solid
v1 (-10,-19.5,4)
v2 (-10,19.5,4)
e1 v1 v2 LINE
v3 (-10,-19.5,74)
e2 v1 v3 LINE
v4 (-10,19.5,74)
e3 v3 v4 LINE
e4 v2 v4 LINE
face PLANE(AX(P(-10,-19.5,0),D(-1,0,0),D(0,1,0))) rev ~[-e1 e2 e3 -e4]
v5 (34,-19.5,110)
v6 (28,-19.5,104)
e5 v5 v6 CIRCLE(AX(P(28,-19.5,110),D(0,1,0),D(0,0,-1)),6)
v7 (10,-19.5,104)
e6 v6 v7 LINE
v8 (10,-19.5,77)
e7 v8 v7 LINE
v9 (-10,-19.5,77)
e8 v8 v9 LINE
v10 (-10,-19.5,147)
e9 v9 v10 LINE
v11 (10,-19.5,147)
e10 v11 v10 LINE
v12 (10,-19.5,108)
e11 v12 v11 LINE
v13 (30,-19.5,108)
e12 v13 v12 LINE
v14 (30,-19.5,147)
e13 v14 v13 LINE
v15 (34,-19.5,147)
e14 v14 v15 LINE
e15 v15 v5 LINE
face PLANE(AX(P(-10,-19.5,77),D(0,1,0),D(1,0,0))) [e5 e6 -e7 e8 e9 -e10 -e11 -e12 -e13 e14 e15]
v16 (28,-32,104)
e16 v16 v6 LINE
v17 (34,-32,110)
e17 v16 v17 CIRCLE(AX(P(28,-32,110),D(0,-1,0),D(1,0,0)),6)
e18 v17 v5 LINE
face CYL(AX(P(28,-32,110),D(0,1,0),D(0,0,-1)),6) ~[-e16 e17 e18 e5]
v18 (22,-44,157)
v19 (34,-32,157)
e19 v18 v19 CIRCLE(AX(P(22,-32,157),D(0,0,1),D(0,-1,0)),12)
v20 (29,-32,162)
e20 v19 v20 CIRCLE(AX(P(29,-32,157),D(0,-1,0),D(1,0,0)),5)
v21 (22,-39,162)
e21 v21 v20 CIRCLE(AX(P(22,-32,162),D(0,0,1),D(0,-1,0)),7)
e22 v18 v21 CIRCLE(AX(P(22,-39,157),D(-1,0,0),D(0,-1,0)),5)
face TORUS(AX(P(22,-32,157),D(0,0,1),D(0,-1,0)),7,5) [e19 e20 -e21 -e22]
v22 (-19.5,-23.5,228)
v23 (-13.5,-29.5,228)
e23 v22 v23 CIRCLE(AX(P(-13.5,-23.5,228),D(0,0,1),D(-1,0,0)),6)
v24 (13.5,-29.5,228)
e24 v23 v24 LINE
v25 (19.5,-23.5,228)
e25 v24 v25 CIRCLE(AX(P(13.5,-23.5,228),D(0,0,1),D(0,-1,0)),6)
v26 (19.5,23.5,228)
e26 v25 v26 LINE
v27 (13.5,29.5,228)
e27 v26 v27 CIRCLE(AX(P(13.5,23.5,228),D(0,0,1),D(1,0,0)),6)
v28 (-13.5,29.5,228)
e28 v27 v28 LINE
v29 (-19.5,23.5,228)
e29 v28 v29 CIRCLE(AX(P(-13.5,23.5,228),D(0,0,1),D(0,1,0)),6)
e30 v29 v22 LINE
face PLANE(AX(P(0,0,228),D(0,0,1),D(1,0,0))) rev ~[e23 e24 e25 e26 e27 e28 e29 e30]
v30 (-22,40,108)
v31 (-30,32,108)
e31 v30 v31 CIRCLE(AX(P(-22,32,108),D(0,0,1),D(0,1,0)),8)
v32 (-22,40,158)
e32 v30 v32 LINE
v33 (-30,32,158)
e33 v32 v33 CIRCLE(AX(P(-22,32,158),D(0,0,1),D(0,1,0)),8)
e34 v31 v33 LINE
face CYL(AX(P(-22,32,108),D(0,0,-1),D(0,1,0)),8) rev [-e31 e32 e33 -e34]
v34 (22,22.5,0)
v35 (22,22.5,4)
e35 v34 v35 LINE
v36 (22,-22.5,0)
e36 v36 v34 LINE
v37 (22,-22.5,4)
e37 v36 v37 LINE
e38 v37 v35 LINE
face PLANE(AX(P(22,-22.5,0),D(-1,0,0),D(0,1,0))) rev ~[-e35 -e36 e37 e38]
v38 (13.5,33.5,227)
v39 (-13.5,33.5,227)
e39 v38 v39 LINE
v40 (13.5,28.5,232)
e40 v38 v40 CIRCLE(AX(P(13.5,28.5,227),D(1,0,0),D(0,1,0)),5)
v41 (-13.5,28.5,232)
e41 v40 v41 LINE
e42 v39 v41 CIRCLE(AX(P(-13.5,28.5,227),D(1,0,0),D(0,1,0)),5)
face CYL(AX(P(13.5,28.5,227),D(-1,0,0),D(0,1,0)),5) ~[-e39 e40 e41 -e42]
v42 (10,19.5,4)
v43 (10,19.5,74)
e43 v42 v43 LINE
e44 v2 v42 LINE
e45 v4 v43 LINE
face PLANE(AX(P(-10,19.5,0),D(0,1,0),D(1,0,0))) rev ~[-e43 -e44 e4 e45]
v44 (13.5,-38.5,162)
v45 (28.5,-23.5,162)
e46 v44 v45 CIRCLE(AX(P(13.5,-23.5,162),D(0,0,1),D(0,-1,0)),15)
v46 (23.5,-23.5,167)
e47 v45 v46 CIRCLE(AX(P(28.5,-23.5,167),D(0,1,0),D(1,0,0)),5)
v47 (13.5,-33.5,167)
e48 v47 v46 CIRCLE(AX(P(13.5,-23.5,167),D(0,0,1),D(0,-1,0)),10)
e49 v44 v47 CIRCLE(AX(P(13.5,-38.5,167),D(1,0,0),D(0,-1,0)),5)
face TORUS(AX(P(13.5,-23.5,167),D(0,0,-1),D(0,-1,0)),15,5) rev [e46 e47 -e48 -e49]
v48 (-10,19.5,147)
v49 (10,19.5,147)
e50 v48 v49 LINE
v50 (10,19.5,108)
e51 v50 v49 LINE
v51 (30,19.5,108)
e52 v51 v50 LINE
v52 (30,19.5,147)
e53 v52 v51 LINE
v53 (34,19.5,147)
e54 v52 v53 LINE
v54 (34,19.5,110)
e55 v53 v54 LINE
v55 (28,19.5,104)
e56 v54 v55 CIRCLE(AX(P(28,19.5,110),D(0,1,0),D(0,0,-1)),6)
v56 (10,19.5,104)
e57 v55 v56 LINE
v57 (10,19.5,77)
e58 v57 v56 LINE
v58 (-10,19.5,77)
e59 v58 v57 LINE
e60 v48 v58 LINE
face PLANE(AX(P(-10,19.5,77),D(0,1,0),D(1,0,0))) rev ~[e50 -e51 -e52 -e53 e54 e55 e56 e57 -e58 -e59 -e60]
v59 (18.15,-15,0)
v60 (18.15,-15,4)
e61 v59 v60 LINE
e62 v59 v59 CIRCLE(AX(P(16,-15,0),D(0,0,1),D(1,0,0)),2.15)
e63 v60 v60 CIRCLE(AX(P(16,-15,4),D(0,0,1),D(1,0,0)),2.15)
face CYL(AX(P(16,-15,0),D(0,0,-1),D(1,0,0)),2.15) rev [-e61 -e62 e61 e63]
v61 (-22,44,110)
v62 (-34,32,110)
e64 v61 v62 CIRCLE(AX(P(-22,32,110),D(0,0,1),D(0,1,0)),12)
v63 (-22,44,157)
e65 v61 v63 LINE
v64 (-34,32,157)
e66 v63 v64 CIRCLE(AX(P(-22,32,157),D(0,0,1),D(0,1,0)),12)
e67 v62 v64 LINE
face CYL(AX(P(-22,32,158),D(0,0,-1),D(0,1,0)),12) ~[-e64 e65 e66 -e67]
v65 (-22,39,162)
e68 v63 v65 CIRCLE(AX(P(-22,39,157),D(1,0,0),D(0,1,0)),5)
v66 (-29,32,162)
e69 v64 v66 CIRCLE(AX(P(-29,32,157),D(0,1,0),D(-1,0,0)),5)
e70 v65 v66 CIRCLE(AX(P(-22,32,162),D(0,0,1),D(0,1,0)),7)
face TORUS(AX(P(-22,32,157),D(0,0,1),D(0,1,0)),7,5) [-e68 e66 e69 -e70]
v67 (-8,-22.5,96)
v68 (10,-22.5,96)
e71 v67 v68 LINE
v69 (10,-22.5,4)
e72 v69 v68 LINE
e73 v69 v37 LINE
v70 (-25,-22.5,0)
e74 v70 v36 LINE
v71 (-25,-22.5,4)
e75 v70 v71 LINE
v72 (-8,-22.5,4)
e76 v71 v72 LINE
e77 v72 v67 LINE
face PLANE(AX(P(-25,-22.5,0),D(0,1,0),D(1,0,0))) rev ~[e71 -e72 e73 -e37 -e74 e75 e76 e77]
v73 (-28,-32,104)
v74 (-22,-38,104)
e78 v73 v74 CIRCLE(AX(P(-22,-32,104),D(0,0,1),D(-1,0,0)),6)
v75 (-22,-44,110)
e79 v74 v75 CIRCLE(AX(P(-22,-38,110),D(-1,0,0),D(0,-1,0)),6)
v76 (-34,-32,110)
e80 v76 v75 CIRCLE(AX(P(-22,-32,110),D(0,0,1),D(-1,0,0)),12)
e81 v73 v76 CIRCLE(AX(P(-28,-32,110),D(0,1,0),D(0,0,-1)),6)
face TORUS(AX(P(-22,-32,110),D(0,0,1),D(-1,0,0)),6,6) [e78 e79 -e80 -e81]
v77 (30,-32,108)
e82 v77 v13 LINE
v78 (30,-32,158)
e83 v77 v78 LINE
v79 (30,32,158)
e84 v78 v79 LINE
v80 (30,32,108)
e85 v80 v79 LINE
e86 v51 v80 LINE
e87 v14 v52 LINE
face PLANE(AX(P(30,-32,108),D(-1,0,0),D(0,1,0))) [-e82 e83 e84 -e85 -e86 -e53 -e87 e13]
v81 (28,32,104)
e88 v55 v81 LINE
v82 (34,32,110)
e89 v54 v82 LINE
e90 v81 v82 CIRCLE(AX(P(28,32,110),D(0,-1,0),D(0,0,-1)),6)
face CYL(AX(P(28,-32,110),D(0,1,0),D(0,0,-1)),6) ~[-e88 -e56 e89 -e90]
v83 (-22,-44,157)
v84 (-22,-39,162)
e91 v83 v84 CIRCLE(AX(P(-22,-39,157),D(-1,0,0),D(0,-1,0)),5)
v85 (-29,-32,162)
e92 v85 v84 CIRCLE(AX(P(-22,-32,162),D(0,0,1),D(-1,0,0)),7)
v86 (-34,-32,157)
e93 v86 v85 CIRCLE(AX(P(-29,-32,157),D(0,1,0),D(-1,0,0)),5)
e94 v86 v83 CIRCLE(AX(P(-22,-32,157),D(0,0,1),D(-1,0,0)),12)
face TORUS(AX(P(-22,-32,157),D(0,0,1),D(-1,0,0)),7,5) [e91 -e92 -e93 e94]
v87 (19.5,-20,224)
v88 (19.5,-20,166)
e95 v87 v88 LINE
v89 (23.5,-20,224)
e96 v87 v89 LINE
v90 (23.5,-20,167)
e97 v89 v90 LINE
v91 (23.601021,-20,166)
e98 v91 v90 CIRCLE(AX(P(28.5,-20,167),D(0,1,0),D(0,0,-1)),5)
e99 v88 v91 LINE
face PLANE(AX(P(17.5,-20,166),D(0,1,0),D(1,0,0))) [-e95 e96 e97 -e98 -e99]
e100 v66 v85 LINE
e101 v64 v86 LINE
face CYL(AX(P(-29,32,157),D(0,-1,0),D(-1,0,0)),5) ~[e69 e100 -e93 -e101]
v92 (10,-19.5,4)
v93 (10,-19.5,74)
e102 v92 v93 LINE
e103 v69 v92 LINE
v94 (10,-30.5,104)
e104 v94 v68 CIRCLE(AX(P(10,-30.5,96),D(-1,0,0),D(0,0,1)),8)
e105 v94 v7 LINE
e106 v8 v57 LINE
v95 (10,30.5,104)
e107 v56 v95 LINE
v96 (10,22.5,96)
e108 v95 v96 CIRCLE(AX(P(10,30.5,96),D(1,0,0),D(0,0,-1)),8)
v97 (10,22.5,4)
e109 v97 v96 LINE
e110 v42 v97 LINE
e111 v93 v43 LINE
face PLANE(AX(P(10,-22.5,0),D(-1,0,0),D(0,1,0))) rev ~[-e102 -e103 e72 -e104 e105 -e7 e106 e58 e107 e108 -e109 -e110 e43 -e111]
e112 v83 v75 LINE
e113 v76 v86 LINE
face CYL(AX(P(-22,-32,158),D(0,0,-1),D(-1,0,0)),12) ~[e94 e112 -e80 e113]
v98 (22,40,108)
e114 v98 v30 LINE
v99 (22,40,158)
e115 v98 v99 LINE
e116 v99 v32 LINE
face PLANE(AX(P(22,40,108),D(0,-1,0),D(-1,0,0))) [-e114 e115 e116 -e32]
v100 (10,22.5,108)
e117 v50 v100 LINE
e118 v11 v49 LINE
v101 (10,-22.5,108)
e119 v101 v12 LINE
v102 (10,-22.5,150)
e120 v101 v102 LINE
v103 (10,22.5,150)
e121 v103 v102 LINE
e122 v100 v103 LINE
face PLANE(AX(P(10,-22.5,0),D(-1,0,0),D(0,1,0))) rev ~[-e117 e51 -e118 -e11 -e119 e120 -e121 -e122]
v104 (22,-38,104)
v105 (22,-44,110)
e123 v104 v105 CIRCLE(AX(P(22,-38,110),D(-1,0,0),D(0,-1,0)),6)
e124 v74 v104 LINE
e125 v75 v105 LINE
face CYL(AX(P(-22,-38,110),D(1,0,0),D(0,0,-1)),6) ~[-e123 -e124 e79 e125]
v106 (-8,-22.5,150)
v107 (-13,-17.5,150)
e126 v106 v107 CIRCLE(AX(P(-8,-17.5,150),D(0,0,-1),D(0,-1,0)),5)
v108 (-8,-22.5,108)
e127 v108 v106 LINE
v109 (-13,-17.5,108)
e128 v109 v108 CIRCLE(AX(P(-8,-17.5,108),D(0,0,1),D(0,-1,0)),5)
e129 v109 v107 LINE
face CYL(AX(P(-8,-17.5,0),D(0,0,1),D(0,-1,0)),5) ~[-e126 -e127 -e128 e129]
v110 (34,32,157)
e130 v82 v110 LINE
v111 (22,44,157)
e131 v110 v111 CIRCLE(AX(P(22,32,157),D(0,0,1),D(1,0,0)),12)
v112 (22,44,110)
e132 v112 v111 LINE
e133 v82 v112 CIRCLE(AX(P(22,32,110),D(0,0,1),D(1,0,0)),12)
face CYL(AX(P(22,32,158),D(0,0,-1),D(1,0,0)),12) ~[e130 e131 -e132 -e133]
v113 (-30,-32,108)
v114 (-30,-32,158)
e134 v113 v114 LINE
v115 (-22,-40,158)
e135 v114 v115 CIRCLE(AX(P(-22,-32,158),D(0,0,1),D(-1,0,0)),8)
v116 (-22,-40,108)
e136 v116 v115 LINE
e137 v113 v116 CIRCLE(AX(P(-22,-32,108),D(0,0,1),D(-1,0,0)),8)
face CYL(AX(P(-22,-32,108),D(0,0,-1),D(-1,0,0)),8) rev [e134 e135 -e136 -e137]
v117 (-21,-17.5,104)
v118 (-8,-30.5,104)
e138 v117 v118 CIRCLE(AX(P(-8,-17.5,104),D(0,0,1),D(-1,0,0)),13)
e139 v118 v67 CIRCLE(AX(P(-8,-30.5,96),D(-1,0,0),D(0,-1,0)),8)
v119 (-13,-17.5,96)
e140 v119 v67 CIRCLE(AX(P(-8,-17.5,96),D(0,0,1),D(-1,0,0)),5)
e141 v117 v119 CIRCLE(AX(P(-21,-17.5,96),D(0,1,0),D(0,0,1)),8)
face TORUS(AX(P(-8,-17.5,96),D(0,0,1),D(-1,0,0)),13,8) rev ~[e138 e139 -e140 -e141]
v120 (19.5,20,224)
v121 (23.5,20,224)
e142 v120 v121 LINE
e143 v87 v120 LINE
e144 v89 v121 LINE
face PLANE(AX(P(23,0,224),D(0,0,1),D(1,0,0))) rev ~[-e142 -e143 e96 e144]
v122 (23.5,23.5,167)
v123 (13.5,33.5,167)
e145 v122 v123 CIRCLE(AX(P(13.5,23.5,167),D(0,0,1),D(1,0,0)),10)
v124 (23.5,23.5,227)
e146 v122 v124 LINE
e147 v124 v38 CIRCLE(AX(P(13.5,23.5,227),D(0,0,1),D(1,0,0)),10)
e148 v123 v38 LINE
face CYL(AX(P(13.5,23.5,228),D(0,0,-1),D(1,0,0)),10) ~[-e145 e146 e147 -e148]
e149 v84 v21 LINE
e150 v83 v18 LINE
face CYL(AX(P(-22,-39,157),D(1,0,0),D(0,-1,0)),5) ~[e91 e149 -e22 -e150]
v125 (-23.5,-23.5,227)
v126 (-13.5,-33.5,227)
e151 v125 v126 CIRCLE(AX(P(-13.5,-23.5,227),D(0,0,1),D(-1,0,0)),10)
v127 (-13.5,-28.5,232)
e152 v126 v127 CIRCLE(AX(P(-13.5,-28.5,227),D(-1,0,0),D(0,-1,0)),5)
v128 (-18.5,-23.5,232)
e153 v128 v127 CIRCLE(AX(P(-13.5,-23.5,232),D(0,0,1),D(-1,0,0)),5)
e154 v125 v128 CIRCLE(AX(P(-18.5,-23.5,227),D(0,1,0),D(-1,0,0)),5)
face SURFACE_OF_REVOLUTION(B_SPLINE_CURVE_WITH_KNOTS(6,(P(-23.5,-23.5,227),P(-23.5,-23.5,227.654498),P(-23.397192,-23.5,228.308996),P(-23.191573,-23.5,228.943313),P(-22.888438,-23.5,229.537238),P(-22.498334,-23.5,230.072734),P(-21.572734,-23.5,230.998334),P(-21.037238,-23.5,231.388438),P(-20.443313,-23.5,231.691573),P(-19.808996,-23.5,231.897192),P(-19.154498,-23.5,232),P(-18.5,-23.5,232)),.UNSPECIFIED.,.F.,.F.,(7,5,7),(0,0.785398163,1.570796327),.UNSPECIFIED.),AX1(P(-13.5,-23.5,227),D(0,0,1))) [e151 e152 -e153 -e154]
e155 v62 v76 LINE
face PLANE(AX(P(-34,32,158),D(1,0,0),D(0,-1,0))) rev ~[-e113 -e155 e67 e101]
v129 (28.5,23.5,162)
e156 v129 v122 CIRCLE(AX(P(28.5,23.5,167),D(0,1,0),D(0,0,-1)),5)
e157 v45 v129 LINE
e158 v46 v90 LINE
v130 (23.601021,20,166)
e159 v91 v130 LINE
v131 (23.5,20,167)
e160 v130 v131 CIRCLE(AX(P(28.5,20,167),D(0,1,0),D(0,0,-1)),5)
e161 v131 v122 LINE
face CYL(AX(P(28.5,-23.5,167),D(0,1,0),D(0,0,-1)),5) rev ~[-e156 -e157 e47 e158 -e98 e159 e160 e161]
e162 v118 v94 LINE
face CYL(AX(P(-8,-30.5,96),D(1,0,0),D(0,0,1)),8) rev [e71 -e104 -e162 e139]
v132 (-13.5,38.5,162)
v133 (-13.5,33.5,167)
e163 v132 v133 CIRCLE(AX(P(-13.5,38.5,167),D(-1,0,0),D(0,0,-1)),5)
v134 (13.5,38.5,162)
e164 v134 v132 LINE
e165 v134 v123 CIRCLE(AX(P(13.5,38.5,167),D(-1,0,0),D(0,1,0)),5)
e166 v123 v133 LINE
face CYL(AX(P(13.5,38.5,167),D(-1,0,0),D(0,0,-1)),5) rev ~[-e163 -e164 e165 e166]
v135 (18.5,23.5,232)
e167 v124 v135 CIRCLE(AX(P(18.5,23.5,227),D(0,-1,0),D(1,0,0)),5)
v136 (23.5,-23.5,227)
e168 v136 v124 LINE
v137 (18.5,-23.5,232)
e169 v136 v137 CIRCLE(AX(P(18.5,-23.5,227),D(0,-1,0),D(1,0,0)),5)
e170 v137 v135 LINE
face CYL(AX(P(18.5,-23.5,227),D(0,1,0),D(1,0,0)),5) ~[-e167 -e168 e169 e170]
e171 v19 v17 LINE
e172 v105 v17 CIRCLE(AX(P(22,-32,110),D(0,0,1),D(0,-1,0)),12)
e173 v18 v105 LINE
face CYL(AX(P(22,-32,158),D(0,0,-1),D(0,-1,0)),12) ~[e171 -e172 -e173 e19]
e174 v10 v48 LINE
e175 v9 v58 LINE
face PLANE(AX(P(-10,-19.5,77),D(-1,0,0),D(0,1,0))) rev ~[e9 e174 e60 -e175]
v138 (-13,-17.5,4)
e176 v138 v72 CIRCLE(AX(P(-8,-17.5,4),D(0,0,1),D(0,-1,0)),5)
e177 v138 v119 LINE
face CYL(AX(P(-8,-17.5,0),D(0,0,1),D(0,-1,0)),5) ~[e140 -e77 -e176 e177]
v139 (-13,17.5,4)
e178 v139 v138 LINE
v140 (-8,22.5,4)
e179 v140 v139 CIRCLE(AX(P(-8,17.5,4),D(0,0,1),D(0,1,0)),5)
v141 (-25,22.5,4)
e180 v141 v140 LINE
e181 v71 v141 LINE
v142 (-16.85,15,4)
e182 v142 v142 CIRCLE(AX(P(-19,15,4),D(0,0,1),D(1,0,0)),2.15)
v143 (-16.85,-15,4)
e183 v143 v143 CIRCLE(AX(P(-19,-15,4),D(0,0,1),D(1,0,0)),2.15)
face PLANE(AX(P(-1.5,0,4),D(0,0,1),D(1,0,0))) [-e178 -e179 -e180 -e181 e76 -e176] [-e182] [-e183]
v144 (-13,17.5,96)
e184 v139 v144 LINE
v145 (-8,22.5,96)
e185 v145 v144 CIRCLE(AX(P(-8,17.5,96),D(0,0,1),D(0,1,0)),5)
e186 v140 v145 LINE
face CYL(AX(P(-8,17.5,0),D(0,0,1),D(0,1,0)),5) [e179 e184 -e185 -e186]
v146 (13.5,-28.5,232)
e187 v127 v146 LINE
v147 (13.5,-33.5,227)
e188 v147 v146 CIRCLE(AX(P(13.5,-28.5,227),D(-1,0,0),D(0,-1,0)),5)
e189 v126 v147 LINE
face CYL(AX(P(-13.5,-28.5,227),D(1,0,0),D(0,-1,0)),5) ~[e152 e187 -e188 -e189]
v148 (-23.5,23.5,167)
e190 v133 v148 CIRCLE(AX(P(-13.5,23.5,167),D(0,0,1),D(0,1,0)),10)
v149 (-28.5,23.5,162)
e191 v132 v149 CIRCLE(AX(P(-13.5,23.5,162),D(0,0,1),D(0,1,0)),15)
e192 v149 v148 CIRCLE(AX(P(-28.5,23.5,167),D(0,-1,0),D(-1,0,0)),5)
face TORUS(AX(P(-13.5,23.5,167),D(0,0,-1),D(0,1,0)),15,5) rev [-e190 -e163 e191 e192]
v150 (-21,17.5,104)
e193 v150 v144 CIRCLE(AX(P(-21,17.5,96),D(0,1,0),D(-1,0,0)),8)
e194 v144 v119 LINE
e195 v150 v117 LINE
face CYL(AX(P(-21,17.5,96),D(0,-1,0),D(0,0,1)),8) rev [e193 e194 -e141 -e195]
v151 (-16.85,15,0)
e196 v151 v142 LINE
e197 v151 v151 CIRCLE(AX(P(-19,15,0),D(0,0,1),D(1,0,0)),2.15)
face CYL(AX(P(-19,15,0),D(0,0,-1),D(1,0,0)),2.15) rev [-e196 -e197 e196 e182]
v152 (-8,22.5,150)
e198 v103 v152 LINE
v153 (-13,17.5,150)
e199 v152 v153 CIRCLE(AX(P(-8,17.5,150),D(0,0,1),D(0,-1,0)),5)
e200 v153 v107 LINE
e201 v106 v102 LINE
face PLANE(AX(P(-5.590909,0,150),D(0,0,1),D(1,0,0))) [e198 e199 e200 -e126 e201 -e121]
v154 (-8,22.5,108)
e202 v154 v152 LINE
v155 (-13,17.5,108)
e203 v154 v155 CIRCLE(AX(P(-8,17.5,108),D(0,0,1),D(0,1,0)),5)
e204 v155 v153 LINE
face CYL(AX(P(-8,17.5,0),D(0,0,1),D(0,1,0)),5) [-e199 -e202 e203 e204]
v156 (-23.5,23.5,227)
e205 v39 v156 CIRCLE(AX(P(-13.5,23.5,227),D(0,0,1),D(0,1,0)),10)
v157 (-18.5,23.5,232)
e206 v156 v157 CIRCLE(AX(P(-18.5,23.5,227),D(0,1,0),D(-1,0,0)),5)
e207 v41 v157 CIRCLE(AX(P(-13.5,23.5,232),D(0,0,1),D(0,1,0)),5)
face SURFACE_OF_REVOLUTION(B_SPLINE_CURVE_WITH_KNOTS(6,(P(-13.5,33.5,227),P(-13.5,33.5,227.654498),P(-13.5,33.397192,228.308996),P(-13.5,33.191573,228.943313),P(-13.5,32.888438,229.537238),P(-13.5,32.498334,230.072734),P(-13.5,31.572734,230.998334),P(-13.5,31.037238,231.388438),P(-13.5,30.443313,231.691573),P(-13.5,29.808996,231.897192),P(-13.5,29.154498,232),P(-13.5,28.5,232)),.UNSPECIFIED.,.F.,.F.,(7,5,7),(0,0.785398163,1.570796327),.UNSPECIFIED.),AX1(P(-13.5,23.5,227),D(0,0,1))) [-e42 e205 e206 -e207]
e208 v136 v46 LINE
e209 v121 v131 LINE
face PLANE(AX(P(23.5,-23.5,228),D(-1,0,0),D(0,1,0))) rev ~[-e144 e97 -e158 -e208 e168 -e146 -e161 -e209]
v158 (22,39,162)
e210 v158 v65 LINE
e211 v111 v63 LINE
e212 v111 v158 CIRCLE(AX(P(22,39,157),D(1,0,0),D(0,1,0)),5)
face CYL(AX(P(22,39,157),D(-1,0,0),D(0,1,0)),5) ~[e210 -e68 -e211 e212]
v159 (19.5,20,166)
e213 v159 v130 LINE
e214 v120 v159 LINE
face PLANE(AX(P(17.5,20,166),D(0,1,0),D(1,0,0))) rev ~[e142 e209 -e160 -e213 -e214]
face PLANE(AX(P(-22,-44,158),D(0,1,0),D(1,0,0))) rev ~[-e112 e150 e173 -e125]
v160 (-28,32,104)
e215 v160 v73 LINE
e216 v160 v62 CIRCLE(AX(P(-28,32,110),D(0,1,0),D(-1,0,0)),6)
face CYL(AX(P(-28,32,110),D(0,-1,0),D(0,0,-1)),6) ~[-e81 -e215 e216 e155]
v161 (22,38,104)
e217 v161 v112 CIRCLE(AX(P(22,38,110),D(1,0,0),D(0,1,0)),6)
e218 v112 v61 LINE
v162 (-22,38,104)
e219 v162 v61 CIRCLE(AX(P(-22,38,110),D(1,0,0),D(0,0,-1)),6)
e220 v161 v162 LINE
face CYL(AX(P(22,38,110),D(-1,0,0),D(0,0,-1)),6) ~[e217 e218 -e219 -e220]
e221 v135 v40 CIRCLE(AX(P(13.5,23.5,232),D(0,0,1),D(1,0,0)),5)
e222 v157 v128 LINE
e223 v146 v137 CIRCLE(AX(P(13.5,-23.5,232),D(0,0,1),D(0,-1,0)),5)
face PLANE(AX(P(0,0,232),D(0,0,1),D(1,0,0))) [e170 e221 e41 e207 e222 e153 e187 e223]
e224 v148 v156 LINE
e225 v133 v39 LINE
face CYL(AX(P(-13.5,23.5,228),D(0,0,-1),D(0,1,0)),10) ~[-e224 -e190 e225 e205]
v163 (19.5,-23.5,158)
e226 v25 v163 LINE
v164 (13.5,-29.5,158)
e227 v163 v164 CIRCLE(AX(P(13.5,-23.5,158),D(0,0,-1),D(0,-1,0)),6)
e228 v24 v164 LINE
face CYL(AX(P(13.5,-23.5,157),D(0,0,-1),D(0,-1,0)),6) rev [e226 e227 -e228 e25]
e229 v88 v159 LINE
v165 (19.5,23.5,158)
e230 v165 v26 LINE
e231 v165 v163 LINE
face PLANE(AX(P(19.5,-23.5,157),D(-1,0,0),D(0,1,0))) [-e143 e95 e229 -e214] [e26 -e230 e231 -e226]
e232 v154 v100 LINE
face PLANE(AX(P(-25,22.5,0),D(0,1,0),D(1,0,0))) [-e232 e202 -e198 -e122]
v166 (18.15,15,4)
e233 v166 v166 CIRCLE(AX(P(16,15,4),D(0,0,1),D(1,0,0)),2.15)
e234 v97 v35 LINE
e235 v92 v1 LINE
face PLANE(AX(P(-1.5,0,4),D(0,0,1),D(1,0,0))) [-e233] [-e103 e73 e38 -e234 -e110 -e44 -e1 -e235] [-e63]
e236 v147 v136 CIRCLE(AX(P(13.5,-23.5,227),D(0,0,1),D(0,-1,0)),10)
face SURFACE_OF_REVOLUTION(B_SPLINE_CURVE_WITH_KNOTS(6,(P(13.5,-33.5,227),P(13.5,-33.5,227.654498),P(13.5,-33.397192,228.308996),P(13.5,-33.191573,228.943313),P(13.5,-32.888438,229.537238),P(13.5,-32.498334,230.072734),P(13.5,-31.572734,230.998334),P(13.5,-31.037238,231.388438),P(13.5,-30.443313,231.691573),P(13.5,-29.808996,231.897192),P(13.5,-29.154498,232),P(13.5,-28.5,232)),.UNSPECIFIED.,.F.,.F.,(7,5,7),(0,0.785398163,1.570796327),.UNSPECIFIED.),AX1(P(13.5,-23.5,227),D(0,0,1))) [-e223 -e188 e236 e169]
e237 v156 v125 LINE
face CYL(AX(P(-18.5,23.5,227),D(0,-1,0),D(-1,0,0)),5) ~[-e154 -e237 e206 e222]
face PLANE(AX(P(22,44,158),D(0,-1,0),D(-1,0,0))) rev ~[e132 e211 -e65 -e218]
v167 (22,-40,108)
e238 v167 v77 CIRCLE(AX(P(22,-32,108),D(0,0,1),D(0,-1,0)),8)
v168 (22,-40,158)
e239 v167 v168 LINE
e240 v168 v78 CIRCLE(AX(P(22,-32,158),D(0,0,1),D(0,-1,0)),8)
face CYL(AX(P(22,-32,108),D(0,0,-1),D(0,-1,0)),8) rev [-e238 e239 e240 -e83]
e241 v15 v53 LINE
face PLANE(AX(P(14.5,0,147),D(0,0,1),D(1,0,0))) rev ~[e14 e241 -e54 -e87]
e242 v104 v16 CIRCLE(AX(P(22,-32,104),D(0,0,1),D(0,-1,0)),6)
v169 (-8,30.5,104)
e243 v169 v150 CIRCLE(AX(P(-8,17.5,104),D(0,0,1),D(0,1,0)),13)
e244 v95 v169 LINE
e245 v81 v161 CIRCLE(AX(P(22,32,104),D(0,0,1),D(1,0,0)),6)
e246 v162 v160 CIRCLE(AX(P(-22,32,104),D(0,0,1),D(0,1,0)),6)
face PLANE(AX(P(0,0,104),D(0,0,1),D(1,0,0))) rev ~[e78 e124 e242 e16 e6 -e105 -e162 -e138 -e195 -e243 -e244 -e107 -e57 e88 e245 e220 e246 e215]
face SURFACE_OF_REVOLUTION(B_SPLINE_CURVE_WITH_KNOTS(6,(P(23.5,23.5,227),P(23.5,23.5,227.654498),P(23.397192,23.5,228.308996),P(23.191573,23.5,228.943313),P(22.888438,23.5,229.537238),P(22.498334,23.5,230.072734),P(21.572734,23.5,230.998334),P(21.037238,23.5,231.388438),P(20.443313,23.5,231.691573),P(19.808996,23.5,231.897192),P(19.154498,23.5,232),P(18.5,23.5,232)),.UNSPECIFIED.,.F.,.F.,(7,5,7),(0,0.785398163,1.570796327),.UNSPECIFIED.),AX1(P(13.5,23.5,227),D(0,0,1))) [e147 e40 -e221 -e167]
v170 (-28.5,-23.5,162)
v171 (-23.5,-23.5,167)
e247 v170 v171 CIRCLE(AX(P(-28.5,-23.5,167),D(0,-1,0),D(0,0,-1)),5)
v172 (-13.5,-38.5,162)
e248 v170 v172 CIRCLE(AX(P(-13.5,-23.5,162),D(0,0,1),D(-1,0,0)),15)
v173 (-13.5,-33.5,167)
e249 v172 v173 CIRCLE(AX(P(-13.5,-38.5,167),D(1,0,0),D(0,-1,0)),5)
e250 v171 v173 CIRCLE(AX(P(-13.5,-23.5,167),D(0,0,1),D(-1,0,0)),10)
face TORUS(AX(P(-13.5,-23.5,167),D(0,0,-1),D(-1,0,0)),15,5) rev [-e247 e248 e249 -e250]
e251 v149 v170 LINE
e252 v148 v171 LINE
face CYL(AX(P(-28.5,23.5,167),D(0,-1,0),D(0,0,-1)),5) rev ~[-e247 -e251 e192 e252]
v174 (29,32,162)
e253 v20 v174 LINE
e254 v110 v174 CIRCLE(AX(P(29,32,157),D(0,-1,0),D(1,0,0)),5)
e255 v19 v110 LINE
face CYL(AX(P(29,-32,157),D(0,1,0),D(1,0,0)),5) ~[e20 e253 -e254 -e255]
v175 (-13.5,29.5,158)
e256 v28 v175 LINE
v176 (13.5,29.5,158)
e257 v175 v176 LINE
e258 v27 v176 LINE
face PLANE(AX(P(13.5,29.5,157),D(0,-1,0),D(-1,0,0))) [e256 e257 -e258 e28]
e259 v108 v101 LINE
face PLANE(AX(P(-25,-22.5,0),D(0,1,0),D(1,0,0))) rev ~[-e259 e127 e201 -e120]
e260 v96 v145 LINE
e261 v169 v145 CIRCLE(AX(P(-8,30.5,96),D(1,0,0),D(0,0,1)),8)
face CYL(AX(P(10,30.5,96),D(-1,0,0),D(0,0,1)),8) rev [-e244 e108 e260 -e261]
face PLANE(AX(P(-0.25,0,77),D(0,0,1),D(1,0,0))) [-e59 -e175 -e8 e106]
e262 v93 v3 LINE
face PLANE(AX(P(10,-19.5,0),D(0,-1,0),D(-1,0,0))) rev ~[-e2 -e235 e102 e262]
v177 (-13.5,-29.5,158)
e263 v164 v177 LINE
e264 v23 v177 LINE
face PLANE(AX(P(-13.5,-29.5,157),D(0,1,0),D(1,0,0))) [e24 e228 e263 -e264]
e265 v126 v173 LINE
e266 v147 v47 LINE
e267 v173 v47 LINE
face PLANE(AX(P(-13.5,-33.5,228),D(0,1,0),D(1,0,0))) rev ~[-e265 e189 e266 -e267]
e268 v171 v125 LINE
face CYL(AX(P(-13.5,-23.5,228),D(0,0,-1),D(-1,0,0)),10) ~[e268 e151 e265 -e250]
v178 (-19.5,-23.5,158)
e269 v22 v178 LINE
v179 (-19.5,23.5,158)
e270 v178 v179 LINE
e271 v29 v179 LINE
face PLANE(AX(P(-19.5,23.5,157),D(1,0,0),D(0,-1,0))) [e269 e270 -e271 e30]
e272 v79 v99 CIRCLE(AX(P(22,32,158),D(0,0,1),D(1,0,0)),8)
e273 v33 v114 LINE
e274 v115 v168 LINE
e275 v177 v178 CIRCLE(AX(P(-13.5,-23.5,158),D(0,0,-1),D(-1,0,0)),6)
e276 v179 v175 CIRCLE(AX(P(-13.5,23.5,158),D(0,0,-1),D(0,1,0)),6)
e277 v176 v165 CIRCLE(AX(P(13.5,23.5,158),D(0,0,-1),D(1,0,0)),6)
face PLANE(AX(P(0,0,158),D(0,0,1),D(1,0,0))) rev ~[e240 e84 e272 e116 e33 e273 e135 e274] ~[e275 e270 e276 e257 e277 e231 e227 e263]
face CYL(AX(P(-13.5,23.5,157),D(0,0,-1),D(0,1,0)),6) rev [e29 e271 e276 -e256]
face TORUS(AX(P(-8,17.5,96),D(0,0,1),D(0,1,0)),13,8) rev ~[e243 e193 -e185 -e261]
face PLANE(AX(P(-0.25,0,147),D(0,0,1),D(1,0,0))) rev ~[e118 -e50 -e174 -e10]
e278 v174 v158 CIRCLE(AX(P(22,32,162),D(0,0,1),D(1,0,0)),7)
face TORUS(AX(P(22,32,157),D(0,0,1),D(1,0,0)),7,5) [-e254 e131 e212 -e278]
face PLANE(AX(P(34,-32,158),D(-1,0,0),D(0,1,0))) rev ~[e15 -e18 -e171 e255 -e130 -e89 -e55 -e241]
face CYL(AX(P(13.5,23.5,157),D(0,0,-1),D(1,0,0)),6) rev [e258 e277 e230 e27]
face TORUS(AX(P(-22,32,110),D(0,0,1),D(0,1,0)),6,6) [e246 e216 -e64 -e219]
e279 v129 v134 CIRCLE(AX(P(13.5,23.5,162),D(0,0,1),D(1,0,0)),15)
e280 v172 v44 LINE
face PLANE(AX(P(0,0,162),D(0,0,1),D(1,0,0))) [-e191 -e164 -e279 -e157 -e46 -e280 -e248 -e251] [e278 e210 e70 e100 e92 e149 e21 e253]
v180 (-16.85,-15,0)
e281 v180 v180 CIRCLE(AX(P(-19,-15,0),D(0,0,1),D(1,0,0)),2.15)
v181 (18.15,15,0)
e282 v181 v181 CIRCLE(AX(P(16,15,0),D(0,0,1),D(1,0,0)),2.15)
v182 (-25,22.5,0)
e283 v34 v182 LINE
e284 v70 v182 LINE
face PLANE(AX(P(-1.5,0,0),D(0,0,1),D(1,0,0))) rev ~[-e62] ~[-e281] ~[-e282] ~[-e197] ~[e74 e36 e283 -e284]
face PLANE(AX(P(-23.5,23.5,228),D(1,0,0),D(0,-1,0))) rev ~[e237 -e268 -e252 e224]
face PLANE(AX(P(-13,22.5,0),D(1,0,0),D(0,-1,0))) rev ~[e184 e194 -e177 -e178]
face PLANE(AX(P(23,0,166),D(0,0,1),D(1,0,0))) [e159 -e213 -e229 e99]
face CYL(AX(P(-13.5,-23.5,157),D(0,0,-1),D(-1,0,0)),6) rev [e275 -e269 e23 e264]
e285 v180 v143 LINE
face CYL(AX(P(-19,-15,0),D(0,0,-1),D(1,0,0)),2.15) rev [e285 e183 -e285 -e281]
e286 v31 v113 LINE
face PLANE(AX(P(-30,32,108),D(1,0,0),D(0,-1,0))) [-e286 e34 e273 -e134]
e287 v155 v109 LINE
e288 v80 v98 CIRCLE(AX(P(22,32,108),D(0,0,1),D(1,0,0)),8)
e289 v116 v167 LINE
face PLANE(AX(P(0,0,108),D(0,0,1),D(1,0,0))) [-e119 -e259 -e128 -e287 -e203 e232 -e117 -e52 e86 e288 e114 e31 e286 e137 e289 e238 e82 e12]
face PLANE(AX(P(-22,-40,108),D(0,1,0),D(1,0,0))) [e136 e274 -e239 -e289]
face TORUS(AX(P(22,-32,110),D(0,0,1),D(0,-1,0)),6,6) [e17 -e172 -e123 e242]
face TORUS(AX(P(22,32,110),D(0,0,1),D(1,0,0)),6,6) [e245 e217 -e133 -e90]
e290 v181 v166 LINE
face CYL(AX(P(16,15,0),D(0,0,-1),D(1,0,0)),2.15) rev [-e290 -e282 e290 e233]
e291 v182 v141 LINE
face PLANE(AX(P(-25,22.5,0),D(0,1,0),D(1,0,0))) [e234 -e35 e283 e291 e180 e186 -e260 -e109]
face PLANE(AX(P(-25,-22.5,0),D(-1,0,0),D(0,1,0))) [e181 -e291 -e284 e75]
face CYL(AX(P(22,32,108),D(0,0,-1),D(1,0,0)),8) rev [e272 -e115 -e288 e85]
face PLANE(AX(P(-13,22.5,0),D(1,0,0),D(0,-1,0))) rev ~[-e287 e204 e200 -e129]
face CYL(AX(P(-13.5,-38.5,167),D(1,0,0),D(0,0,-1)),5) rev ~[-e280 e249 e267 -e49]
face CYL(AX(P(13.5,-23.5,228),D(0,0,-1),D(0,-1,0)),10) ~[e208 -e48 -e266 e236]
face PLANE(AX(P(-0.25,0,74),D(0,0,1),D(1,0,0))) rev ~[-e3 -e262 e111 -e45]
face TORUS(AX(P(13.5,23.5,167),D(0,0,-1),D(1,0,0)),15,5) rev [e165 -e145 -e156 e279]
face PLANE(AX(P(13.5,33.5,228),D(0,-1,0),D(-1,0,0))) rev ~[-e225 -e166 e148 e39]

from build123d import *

# Parameters (mm, degrees)
EXTRUDE_1_DEPTH     = 150
FILLET_1_R          = 5
SKETCH_2_W          = 47
SKETCH_2_H          = 45
SKETCH_2_R          = 2.15
EXTRUDE_2_DEPTH     = 4
EXTRUDE_START       = 74
SKETCH_3_W          = 20.5
SKETCH_3_H          = 40
EXTRUDE_3_DEPTH     = 3
EXTRUDE_START_2     = 147
SKETCH_4_W          = 20.5
SKETCH_4_H          = 40
EXTRUDE_4_DEPTH     = 3
EXTRUDE_START_3     = 104
EXTRUDE_5_DEPTH     = 4
EXTRUDE_START_4     = 108
EXTRUDE_6_DEPTH     = 50
EXTRUDE_START_5     = 158
EXTRUDE_7_DEPTH     = 4
EXTRUDE_START_6     = 162
EXTRUDE_8_DEPTH     = 66
EXTRUDE_START_7     = 228
EXTRUDE_9_DEPTH     = 4
FILLET_2_R          = 8
FILLET_3_R          = 6
FILLET_4_R          = 5
FILLET_5_R          = 5
FILLET_6_R          = 5
CUT_EXTRUDE_START   = 77
SKETCH_10_W         = 49
SKETCH_10_H         = 39
CUT_EXTRUDE_1_DEPTH = 70
CUT_EXTRUDE_START_2 = 157
CUT_EXTRUDE_2_DEPTH = 8
CUT_EXTRUDE_START_3 = 166
SKETCH_12_W         = 11
SKETCH_12_H         = 40
CUT_EXTRUDE_3_DEPTH = 58


with BuildPart() as part:
    # 草圖1 → 填料-伸長1 (new body)
    with BuildSketch(Plane.XY):
        Polygon((-13, -22.5), (10, -22.5), (10, -19.5), (-10, -19.5), (-10, 19.5), (10, 19.5), (10, 22.5), (-13, 22.5), align=None)
    extrude(amount=EXTRUDE_1_DEPTH)

    # 圓角1
    fillet_1_edges = [part.edges().sort_by_distance(p)[0] for p in [
        (-13, 22.5, 75),
        (-13, -22.5, 75),
    ]]
    fillet(fillet_1_edges, radius=FILLET_1_R)

    # 草圖2 → 填料-伸長2 (add)
    with BuildSketch(Plane.XY):
        with Locations((-1.5, 0)):
            Rectangle(SKETCH_2_W, SKETCH_2_H)
        with Locations((-19, 15)):
            Circle(SKETCH_2_R, mode=Mode.SUBTRACT)
        with Locations((-19, -15)):
            Circle(SKETCH_2_R, mode=Mode.SUBTRACT)
        with Locations((16, 15)):
            Circle(SKETCH_2_R, mode=Mode.SUBTRACT)
        with Locations((16, -15)):
            Circle(SKETCH_2_R, mode=Mode.SUBTRACT)
    extrude(amount=EXTRUDE_2_DEPTH)

    # 草圖3 → 填料-伸長3 (add)
    with BuildSketch(Plane.XY.offset(EXTRUDE_START)):
        with Locations((-0.25, 0)):
            Rectangle(SKETCH_3_W, SKETCH_3_H)
    extrude(amount=EXTRUDE_3_DEPTH)

    # 草圖4 → 填料-伸長4 (add)
    with BuildSketch(Plane.XY.offset(EXTRUDE_START_2)):
        with Locations((-0.25, 0)):
            Rectangle(SKETCH_4_W, SKETCH_4_H)
    extrude(amount=EXTRUDE_4_DEPTH)

    # 草圖5 → 填料-伸長5 (add)
    with BuildSketch(Plane.XY.offset(EXTRUDE_START_3)):
        with BuildLine():
            Line((34, -32), (34, 32))
            ThreePointArc((34, 32), (30.485281374, 40.485281374), (22, 44))
            Line((22, 44), (-22, 44))
            ThreePointArc((-22, 44), (-30.485281374, 40.485281374), (-34, 32))
            Line((-34, 32), (-34, -32))
            ThreePointArc((-34, -32), (-30.485281374, -40.485281374), (-22, -44))
            Line((-22, -44), (22, -44))
            ThreePointArc((22, -44), (30.485281374, -40.485281374), (34, -32))
        make_face()
    extrude(amount=EXTRUDE_5_DEPTH)

    # 草圖6 → 填料-伸長6 (add)
    with BuildSketch(Plane.XY.offset(EXTRUDE_START_4)):
        with BuildLine():
            Line((34, -32), (34, 32))
            ThreePointArc((34, 32), (30.485281374, 40.485281374), (22, 44))
            Line((22, 44), (-22, 44))
            ThreePointArc((-22, 44), (-30.485281374, 40.485281374), (-34, 32))
            Line((-34, 32), (-34, -32))
            ThreePointArc((-34, -32), (-30.485281374, -40.485281374), (-22, -44))
            Line((-22, -44), (22, -44))
            ThreePointArc((22, -44), (30.485281374, -40.485281374), (34, -32))
        make_face()
        with BuildLine():
            Line((30, -32), (30, 32))
            ThreePointArc((30, 32), (27.656854249, 37.656854249), (22, 40))
            Line((22, 40), (-22, 40))
            ThreePointArc((-22, 40), (-27.656854249, 37.656854249), (-30, 32))
            Line((-30, 32), (-30, -32))
            ThreePointArc((-30, -32), (-27.656854249, -37.656854249), (-22, -40))
            Line((-22, -40), (22, -40))
            ThreePointArc((22, -40), (27.656854249, -37.656854249), (30, -32))
        make_face(mode=Mode.SUBTRACT)
    extrude(amount=EXTRUDE_6_DEPTH)

    # 草圖7 → 填料-伸長7 (add)
    with BuildSketch(Plane.XY.offset(EXTRUDE_START_5)):
        with BuildLine():
            Line((34, -32), (34, 32))
            ThreePointArc((34, 32), (30.485281374, 40.485281374), (22, 44))
            Line((22, 44), (-22, 44))
            ThreePointArc((-22, 44), (-30.485281374, 40.485281374), (-34, 32))
            Line((-34, 32), (-34, -32))
            ThreePointArc((-34, -32), (-30.485281374, -40.485281374), (-22, -44))
            Line((-22, -44), (22, -44))
            ThreePointArc((22, -44), (30.485281374, -40.485281374), (34, -32))
        make_face()
    extrude(amount=EXTRUDE_7_DEPTH)

    # 草圖8 → 填料-伸長8 (add)
    with BuildSketch(Plane.XY.offset(EXTRUDE_START_6)):
        with BuildLine():
            Line((23.5, -23.5), (23.5, 23.5))
            ThreePointArc((23.5, 23.5), (20.571067812, 30.571067812), (13.5, 33.5))
            Line((13.5, 33.5), (-13.5, 33.5))
            ThreePointArc((-13.5, 33.5), (-20.571067812, 30.571067812), (-23.5, 23.5))
            Line((-23.5, 23.5), (-23.5, -23.5))
            ThreePointArc((-23.5, -23.5), (-20.571067812, -30.571067812), (-13.5, -33.5))
            Line((-13.5, -33.5), (13.5, -33.5))
            ThreePointArc((13.5, -33.5), (20.571067812, -30.571067812), (23.5, -23.5))
        make_face()
        with BuildLine():
            Line((19.5, -23.5), (19.5, 23.5))
            ThreePointArc((19.5, 23.5), (17.742640687, 27.742640687), (13.5, 29.5))
            Line((13.5, 29.5), (-13.5, 29.5))
            ThreePointArc((-13.5, 29.5), (-17.742640687, 27.742640687), (-19.5, 23.5))
            Line((-19.5, 23.5), (-19.5, -23.5))
            ThreePointArc((-19.5, -23.5), (-17.742640687, -27.742640687), (-13.5, -29.5))
            Line((-13.5, -29.5), (13.5, -29.5))
            ThreePointArc((13.5, -29.5), (17.742640687, -27.742640687), (19.5, -23.5))
        make_face(mode=Mode.SUBTRACT)
    extrude(amount=EXTRUDE_8_DEPTH)

    # 草圖9 → 填料-伸長9 (add)
    with BuildSketch(Plane.XY.offset(EXTRUDE_START_7)):
        with BuildLine():
            Line((23.5, -23.5), (23.5, 23.5))
            ThreePointArc((23.5, 23.5), (20.571067812, 30.571067812), (13.5, 33.5))
            Line((13.5, 33.5), (-13.5, 33.5))
            ThreePointArc((-13.5, 33.5), (-20.571067812, 30.571067812), (-23.5, 23.5))
            Line((-23.5, 23.5), (-23.5, -23.5))
            ThreePointArc((-23.5, -23.5), (-20.571067812, -30.571067812), (-13.5, -33.5))
            Line((-13.5, -33.5), (13.5, -33.5))
            ThreePointArc((13.5, -33.5), (20.571067812, -30.571067812), (23.5, -23.5))
        make_face()
    extrude(amount=EXTRUDE_9_DEPTH)

    # 圓角2
    fillet_2_edges = [part.edges().sort_by_distance(p)[0] for p in [
        (-11.535533906, -21.035533906, 104),
        (1, 22.5, 104),
        (-13, 0, 104),
        (1, -22.5, 104),
        (-11.535533906, 21.035533906, 104),
    ]]
    fillet(fillet_2_edges, radius=FILLET_2_R)

    # 圓角3
    fillet_3_edges = [part.edges().sort_by_distance(p)[0] for p in [
        (30.485281374, -40.485281374, 104),
        (34, 0, 104),
        (30.485281374, 40.485281374, 104),
        (0, 44, 104),
        (-30.485281374, 40.485281374, 104),
        (-34, 0, 104),
        (-30.485281374, -40.485281374, 104),
        (0, -44, 104),
    ]]
    fillet(fillet_3_edges, radius=FILLET_3_R)

    # 圓角4
    fillet_4_edges = [part.edges().sort_by_distance(p)[0] for p in [
        (30.485281374, -40.485281374, 162),
        (34, 0, 162),
        (30.485281374, 40.485281374, 162),
        (0, 44, 162),
        (-30.485281374, 40.485281374, 162),
        (-34, 0, 162),
        (-30.485281374, -40.485281374, 162),
        (0, -44, 162),
    ]]
    fillet(fillet_4_edges, radius=FILLET_4_R)

    # 圓角5
    fillet_5_edges = [part.edges().sort_by_distance(p)[0] for p in [
        (20.571067812, -30.571067812, 162),
        (23.5, 0, 162),
        (20.571067812, 30.571067812, 162),
        (0, 33.5, 162),
        (-20.571067812, 30.571067812, 162),
        (-23.5, 0, 162),
        (-20.571067812, -30.571067812, 162),
        (0, -33.5, 162),
    ]]
    fillet(fillet_5_edges, radius=FILLET_5_R)

    # 圓角6
    fillet_6_edges = [part.edges().sort_by_distance(p)[0] for p in [
        (20.571067812, -30.571067812, 232),
        (23.5, 0, 232),
        (20.571067812, 30.571067812, 232),
        (0, 33.5, 232),
        (-20.571067812, 30.571067812, 232),
        (-23.5, 0, 232),
        (-20.571067812, -30.571067812, 232),
        (0, -33.5, 232),
    ]]
    fillet(fillet_6_edges, radius=FILLET_6_R)

    # 草圖10 → 除料-伸長1 (cut)
    with BuildSketch(Plane.XY.offset(CUT_EXTRUDE_START)):
        with Locations((14.5, 0)):
            Rectangle(SKETCH_10_W, SKETCH_10_H)
    extrude(amount=CUT_EXTRUDE_1_DEPTH, mode=Mode.SUBTRACT)

    # 草圖11 → 除料-伸長2 (cut)
    with BuildSketch(Plane.XY.offset(CUT_EXTRUDE_START_2)):
        with BuildLine():
            Line((19.5, -23.5), (19.5, 23.5))
            ThreePointArc((19.5, 23.5), (17.742640687, 27.742640687), (13.5, 29.5))
            Line((13.5, 29.5), (-13.5, 29.5))
            ThreePointArc((-13.5, 29.5), (-17.742640687, 27.742640687), (-19.5, 23.5))
            Line((-19.5, 23.5), (-19.5, -23.5))
            ThreePointArc((-19.5, -23.5), (-17.742640687, -27.742640687), (-13.5, -29.5))
            Line((-13.5, -29.5), (13.5, -29.5))
            ThreePointArc((13.5, -29.5), (17.742640687, -27.742640687), (19.5, -23.5))
        make_face()
    extrude(amount=CUT_EXTRUDE_2_DEPTH, mode=Mode.SUBTRACT)

    # 草圖12 → 除料-伸長3 (cut)
    with BuildSketch(Plane.XY.offset(CUT_EXTRUDE_START_3)):
        with Locations((23, 0)):
            Rectangle(SKETCH_12_W, SKETCH_12_H)
    extrude(amount=CUT_EXTRUDE_3_DEPTH, mode=Mode.SUBTRACT)


solid = part.part
